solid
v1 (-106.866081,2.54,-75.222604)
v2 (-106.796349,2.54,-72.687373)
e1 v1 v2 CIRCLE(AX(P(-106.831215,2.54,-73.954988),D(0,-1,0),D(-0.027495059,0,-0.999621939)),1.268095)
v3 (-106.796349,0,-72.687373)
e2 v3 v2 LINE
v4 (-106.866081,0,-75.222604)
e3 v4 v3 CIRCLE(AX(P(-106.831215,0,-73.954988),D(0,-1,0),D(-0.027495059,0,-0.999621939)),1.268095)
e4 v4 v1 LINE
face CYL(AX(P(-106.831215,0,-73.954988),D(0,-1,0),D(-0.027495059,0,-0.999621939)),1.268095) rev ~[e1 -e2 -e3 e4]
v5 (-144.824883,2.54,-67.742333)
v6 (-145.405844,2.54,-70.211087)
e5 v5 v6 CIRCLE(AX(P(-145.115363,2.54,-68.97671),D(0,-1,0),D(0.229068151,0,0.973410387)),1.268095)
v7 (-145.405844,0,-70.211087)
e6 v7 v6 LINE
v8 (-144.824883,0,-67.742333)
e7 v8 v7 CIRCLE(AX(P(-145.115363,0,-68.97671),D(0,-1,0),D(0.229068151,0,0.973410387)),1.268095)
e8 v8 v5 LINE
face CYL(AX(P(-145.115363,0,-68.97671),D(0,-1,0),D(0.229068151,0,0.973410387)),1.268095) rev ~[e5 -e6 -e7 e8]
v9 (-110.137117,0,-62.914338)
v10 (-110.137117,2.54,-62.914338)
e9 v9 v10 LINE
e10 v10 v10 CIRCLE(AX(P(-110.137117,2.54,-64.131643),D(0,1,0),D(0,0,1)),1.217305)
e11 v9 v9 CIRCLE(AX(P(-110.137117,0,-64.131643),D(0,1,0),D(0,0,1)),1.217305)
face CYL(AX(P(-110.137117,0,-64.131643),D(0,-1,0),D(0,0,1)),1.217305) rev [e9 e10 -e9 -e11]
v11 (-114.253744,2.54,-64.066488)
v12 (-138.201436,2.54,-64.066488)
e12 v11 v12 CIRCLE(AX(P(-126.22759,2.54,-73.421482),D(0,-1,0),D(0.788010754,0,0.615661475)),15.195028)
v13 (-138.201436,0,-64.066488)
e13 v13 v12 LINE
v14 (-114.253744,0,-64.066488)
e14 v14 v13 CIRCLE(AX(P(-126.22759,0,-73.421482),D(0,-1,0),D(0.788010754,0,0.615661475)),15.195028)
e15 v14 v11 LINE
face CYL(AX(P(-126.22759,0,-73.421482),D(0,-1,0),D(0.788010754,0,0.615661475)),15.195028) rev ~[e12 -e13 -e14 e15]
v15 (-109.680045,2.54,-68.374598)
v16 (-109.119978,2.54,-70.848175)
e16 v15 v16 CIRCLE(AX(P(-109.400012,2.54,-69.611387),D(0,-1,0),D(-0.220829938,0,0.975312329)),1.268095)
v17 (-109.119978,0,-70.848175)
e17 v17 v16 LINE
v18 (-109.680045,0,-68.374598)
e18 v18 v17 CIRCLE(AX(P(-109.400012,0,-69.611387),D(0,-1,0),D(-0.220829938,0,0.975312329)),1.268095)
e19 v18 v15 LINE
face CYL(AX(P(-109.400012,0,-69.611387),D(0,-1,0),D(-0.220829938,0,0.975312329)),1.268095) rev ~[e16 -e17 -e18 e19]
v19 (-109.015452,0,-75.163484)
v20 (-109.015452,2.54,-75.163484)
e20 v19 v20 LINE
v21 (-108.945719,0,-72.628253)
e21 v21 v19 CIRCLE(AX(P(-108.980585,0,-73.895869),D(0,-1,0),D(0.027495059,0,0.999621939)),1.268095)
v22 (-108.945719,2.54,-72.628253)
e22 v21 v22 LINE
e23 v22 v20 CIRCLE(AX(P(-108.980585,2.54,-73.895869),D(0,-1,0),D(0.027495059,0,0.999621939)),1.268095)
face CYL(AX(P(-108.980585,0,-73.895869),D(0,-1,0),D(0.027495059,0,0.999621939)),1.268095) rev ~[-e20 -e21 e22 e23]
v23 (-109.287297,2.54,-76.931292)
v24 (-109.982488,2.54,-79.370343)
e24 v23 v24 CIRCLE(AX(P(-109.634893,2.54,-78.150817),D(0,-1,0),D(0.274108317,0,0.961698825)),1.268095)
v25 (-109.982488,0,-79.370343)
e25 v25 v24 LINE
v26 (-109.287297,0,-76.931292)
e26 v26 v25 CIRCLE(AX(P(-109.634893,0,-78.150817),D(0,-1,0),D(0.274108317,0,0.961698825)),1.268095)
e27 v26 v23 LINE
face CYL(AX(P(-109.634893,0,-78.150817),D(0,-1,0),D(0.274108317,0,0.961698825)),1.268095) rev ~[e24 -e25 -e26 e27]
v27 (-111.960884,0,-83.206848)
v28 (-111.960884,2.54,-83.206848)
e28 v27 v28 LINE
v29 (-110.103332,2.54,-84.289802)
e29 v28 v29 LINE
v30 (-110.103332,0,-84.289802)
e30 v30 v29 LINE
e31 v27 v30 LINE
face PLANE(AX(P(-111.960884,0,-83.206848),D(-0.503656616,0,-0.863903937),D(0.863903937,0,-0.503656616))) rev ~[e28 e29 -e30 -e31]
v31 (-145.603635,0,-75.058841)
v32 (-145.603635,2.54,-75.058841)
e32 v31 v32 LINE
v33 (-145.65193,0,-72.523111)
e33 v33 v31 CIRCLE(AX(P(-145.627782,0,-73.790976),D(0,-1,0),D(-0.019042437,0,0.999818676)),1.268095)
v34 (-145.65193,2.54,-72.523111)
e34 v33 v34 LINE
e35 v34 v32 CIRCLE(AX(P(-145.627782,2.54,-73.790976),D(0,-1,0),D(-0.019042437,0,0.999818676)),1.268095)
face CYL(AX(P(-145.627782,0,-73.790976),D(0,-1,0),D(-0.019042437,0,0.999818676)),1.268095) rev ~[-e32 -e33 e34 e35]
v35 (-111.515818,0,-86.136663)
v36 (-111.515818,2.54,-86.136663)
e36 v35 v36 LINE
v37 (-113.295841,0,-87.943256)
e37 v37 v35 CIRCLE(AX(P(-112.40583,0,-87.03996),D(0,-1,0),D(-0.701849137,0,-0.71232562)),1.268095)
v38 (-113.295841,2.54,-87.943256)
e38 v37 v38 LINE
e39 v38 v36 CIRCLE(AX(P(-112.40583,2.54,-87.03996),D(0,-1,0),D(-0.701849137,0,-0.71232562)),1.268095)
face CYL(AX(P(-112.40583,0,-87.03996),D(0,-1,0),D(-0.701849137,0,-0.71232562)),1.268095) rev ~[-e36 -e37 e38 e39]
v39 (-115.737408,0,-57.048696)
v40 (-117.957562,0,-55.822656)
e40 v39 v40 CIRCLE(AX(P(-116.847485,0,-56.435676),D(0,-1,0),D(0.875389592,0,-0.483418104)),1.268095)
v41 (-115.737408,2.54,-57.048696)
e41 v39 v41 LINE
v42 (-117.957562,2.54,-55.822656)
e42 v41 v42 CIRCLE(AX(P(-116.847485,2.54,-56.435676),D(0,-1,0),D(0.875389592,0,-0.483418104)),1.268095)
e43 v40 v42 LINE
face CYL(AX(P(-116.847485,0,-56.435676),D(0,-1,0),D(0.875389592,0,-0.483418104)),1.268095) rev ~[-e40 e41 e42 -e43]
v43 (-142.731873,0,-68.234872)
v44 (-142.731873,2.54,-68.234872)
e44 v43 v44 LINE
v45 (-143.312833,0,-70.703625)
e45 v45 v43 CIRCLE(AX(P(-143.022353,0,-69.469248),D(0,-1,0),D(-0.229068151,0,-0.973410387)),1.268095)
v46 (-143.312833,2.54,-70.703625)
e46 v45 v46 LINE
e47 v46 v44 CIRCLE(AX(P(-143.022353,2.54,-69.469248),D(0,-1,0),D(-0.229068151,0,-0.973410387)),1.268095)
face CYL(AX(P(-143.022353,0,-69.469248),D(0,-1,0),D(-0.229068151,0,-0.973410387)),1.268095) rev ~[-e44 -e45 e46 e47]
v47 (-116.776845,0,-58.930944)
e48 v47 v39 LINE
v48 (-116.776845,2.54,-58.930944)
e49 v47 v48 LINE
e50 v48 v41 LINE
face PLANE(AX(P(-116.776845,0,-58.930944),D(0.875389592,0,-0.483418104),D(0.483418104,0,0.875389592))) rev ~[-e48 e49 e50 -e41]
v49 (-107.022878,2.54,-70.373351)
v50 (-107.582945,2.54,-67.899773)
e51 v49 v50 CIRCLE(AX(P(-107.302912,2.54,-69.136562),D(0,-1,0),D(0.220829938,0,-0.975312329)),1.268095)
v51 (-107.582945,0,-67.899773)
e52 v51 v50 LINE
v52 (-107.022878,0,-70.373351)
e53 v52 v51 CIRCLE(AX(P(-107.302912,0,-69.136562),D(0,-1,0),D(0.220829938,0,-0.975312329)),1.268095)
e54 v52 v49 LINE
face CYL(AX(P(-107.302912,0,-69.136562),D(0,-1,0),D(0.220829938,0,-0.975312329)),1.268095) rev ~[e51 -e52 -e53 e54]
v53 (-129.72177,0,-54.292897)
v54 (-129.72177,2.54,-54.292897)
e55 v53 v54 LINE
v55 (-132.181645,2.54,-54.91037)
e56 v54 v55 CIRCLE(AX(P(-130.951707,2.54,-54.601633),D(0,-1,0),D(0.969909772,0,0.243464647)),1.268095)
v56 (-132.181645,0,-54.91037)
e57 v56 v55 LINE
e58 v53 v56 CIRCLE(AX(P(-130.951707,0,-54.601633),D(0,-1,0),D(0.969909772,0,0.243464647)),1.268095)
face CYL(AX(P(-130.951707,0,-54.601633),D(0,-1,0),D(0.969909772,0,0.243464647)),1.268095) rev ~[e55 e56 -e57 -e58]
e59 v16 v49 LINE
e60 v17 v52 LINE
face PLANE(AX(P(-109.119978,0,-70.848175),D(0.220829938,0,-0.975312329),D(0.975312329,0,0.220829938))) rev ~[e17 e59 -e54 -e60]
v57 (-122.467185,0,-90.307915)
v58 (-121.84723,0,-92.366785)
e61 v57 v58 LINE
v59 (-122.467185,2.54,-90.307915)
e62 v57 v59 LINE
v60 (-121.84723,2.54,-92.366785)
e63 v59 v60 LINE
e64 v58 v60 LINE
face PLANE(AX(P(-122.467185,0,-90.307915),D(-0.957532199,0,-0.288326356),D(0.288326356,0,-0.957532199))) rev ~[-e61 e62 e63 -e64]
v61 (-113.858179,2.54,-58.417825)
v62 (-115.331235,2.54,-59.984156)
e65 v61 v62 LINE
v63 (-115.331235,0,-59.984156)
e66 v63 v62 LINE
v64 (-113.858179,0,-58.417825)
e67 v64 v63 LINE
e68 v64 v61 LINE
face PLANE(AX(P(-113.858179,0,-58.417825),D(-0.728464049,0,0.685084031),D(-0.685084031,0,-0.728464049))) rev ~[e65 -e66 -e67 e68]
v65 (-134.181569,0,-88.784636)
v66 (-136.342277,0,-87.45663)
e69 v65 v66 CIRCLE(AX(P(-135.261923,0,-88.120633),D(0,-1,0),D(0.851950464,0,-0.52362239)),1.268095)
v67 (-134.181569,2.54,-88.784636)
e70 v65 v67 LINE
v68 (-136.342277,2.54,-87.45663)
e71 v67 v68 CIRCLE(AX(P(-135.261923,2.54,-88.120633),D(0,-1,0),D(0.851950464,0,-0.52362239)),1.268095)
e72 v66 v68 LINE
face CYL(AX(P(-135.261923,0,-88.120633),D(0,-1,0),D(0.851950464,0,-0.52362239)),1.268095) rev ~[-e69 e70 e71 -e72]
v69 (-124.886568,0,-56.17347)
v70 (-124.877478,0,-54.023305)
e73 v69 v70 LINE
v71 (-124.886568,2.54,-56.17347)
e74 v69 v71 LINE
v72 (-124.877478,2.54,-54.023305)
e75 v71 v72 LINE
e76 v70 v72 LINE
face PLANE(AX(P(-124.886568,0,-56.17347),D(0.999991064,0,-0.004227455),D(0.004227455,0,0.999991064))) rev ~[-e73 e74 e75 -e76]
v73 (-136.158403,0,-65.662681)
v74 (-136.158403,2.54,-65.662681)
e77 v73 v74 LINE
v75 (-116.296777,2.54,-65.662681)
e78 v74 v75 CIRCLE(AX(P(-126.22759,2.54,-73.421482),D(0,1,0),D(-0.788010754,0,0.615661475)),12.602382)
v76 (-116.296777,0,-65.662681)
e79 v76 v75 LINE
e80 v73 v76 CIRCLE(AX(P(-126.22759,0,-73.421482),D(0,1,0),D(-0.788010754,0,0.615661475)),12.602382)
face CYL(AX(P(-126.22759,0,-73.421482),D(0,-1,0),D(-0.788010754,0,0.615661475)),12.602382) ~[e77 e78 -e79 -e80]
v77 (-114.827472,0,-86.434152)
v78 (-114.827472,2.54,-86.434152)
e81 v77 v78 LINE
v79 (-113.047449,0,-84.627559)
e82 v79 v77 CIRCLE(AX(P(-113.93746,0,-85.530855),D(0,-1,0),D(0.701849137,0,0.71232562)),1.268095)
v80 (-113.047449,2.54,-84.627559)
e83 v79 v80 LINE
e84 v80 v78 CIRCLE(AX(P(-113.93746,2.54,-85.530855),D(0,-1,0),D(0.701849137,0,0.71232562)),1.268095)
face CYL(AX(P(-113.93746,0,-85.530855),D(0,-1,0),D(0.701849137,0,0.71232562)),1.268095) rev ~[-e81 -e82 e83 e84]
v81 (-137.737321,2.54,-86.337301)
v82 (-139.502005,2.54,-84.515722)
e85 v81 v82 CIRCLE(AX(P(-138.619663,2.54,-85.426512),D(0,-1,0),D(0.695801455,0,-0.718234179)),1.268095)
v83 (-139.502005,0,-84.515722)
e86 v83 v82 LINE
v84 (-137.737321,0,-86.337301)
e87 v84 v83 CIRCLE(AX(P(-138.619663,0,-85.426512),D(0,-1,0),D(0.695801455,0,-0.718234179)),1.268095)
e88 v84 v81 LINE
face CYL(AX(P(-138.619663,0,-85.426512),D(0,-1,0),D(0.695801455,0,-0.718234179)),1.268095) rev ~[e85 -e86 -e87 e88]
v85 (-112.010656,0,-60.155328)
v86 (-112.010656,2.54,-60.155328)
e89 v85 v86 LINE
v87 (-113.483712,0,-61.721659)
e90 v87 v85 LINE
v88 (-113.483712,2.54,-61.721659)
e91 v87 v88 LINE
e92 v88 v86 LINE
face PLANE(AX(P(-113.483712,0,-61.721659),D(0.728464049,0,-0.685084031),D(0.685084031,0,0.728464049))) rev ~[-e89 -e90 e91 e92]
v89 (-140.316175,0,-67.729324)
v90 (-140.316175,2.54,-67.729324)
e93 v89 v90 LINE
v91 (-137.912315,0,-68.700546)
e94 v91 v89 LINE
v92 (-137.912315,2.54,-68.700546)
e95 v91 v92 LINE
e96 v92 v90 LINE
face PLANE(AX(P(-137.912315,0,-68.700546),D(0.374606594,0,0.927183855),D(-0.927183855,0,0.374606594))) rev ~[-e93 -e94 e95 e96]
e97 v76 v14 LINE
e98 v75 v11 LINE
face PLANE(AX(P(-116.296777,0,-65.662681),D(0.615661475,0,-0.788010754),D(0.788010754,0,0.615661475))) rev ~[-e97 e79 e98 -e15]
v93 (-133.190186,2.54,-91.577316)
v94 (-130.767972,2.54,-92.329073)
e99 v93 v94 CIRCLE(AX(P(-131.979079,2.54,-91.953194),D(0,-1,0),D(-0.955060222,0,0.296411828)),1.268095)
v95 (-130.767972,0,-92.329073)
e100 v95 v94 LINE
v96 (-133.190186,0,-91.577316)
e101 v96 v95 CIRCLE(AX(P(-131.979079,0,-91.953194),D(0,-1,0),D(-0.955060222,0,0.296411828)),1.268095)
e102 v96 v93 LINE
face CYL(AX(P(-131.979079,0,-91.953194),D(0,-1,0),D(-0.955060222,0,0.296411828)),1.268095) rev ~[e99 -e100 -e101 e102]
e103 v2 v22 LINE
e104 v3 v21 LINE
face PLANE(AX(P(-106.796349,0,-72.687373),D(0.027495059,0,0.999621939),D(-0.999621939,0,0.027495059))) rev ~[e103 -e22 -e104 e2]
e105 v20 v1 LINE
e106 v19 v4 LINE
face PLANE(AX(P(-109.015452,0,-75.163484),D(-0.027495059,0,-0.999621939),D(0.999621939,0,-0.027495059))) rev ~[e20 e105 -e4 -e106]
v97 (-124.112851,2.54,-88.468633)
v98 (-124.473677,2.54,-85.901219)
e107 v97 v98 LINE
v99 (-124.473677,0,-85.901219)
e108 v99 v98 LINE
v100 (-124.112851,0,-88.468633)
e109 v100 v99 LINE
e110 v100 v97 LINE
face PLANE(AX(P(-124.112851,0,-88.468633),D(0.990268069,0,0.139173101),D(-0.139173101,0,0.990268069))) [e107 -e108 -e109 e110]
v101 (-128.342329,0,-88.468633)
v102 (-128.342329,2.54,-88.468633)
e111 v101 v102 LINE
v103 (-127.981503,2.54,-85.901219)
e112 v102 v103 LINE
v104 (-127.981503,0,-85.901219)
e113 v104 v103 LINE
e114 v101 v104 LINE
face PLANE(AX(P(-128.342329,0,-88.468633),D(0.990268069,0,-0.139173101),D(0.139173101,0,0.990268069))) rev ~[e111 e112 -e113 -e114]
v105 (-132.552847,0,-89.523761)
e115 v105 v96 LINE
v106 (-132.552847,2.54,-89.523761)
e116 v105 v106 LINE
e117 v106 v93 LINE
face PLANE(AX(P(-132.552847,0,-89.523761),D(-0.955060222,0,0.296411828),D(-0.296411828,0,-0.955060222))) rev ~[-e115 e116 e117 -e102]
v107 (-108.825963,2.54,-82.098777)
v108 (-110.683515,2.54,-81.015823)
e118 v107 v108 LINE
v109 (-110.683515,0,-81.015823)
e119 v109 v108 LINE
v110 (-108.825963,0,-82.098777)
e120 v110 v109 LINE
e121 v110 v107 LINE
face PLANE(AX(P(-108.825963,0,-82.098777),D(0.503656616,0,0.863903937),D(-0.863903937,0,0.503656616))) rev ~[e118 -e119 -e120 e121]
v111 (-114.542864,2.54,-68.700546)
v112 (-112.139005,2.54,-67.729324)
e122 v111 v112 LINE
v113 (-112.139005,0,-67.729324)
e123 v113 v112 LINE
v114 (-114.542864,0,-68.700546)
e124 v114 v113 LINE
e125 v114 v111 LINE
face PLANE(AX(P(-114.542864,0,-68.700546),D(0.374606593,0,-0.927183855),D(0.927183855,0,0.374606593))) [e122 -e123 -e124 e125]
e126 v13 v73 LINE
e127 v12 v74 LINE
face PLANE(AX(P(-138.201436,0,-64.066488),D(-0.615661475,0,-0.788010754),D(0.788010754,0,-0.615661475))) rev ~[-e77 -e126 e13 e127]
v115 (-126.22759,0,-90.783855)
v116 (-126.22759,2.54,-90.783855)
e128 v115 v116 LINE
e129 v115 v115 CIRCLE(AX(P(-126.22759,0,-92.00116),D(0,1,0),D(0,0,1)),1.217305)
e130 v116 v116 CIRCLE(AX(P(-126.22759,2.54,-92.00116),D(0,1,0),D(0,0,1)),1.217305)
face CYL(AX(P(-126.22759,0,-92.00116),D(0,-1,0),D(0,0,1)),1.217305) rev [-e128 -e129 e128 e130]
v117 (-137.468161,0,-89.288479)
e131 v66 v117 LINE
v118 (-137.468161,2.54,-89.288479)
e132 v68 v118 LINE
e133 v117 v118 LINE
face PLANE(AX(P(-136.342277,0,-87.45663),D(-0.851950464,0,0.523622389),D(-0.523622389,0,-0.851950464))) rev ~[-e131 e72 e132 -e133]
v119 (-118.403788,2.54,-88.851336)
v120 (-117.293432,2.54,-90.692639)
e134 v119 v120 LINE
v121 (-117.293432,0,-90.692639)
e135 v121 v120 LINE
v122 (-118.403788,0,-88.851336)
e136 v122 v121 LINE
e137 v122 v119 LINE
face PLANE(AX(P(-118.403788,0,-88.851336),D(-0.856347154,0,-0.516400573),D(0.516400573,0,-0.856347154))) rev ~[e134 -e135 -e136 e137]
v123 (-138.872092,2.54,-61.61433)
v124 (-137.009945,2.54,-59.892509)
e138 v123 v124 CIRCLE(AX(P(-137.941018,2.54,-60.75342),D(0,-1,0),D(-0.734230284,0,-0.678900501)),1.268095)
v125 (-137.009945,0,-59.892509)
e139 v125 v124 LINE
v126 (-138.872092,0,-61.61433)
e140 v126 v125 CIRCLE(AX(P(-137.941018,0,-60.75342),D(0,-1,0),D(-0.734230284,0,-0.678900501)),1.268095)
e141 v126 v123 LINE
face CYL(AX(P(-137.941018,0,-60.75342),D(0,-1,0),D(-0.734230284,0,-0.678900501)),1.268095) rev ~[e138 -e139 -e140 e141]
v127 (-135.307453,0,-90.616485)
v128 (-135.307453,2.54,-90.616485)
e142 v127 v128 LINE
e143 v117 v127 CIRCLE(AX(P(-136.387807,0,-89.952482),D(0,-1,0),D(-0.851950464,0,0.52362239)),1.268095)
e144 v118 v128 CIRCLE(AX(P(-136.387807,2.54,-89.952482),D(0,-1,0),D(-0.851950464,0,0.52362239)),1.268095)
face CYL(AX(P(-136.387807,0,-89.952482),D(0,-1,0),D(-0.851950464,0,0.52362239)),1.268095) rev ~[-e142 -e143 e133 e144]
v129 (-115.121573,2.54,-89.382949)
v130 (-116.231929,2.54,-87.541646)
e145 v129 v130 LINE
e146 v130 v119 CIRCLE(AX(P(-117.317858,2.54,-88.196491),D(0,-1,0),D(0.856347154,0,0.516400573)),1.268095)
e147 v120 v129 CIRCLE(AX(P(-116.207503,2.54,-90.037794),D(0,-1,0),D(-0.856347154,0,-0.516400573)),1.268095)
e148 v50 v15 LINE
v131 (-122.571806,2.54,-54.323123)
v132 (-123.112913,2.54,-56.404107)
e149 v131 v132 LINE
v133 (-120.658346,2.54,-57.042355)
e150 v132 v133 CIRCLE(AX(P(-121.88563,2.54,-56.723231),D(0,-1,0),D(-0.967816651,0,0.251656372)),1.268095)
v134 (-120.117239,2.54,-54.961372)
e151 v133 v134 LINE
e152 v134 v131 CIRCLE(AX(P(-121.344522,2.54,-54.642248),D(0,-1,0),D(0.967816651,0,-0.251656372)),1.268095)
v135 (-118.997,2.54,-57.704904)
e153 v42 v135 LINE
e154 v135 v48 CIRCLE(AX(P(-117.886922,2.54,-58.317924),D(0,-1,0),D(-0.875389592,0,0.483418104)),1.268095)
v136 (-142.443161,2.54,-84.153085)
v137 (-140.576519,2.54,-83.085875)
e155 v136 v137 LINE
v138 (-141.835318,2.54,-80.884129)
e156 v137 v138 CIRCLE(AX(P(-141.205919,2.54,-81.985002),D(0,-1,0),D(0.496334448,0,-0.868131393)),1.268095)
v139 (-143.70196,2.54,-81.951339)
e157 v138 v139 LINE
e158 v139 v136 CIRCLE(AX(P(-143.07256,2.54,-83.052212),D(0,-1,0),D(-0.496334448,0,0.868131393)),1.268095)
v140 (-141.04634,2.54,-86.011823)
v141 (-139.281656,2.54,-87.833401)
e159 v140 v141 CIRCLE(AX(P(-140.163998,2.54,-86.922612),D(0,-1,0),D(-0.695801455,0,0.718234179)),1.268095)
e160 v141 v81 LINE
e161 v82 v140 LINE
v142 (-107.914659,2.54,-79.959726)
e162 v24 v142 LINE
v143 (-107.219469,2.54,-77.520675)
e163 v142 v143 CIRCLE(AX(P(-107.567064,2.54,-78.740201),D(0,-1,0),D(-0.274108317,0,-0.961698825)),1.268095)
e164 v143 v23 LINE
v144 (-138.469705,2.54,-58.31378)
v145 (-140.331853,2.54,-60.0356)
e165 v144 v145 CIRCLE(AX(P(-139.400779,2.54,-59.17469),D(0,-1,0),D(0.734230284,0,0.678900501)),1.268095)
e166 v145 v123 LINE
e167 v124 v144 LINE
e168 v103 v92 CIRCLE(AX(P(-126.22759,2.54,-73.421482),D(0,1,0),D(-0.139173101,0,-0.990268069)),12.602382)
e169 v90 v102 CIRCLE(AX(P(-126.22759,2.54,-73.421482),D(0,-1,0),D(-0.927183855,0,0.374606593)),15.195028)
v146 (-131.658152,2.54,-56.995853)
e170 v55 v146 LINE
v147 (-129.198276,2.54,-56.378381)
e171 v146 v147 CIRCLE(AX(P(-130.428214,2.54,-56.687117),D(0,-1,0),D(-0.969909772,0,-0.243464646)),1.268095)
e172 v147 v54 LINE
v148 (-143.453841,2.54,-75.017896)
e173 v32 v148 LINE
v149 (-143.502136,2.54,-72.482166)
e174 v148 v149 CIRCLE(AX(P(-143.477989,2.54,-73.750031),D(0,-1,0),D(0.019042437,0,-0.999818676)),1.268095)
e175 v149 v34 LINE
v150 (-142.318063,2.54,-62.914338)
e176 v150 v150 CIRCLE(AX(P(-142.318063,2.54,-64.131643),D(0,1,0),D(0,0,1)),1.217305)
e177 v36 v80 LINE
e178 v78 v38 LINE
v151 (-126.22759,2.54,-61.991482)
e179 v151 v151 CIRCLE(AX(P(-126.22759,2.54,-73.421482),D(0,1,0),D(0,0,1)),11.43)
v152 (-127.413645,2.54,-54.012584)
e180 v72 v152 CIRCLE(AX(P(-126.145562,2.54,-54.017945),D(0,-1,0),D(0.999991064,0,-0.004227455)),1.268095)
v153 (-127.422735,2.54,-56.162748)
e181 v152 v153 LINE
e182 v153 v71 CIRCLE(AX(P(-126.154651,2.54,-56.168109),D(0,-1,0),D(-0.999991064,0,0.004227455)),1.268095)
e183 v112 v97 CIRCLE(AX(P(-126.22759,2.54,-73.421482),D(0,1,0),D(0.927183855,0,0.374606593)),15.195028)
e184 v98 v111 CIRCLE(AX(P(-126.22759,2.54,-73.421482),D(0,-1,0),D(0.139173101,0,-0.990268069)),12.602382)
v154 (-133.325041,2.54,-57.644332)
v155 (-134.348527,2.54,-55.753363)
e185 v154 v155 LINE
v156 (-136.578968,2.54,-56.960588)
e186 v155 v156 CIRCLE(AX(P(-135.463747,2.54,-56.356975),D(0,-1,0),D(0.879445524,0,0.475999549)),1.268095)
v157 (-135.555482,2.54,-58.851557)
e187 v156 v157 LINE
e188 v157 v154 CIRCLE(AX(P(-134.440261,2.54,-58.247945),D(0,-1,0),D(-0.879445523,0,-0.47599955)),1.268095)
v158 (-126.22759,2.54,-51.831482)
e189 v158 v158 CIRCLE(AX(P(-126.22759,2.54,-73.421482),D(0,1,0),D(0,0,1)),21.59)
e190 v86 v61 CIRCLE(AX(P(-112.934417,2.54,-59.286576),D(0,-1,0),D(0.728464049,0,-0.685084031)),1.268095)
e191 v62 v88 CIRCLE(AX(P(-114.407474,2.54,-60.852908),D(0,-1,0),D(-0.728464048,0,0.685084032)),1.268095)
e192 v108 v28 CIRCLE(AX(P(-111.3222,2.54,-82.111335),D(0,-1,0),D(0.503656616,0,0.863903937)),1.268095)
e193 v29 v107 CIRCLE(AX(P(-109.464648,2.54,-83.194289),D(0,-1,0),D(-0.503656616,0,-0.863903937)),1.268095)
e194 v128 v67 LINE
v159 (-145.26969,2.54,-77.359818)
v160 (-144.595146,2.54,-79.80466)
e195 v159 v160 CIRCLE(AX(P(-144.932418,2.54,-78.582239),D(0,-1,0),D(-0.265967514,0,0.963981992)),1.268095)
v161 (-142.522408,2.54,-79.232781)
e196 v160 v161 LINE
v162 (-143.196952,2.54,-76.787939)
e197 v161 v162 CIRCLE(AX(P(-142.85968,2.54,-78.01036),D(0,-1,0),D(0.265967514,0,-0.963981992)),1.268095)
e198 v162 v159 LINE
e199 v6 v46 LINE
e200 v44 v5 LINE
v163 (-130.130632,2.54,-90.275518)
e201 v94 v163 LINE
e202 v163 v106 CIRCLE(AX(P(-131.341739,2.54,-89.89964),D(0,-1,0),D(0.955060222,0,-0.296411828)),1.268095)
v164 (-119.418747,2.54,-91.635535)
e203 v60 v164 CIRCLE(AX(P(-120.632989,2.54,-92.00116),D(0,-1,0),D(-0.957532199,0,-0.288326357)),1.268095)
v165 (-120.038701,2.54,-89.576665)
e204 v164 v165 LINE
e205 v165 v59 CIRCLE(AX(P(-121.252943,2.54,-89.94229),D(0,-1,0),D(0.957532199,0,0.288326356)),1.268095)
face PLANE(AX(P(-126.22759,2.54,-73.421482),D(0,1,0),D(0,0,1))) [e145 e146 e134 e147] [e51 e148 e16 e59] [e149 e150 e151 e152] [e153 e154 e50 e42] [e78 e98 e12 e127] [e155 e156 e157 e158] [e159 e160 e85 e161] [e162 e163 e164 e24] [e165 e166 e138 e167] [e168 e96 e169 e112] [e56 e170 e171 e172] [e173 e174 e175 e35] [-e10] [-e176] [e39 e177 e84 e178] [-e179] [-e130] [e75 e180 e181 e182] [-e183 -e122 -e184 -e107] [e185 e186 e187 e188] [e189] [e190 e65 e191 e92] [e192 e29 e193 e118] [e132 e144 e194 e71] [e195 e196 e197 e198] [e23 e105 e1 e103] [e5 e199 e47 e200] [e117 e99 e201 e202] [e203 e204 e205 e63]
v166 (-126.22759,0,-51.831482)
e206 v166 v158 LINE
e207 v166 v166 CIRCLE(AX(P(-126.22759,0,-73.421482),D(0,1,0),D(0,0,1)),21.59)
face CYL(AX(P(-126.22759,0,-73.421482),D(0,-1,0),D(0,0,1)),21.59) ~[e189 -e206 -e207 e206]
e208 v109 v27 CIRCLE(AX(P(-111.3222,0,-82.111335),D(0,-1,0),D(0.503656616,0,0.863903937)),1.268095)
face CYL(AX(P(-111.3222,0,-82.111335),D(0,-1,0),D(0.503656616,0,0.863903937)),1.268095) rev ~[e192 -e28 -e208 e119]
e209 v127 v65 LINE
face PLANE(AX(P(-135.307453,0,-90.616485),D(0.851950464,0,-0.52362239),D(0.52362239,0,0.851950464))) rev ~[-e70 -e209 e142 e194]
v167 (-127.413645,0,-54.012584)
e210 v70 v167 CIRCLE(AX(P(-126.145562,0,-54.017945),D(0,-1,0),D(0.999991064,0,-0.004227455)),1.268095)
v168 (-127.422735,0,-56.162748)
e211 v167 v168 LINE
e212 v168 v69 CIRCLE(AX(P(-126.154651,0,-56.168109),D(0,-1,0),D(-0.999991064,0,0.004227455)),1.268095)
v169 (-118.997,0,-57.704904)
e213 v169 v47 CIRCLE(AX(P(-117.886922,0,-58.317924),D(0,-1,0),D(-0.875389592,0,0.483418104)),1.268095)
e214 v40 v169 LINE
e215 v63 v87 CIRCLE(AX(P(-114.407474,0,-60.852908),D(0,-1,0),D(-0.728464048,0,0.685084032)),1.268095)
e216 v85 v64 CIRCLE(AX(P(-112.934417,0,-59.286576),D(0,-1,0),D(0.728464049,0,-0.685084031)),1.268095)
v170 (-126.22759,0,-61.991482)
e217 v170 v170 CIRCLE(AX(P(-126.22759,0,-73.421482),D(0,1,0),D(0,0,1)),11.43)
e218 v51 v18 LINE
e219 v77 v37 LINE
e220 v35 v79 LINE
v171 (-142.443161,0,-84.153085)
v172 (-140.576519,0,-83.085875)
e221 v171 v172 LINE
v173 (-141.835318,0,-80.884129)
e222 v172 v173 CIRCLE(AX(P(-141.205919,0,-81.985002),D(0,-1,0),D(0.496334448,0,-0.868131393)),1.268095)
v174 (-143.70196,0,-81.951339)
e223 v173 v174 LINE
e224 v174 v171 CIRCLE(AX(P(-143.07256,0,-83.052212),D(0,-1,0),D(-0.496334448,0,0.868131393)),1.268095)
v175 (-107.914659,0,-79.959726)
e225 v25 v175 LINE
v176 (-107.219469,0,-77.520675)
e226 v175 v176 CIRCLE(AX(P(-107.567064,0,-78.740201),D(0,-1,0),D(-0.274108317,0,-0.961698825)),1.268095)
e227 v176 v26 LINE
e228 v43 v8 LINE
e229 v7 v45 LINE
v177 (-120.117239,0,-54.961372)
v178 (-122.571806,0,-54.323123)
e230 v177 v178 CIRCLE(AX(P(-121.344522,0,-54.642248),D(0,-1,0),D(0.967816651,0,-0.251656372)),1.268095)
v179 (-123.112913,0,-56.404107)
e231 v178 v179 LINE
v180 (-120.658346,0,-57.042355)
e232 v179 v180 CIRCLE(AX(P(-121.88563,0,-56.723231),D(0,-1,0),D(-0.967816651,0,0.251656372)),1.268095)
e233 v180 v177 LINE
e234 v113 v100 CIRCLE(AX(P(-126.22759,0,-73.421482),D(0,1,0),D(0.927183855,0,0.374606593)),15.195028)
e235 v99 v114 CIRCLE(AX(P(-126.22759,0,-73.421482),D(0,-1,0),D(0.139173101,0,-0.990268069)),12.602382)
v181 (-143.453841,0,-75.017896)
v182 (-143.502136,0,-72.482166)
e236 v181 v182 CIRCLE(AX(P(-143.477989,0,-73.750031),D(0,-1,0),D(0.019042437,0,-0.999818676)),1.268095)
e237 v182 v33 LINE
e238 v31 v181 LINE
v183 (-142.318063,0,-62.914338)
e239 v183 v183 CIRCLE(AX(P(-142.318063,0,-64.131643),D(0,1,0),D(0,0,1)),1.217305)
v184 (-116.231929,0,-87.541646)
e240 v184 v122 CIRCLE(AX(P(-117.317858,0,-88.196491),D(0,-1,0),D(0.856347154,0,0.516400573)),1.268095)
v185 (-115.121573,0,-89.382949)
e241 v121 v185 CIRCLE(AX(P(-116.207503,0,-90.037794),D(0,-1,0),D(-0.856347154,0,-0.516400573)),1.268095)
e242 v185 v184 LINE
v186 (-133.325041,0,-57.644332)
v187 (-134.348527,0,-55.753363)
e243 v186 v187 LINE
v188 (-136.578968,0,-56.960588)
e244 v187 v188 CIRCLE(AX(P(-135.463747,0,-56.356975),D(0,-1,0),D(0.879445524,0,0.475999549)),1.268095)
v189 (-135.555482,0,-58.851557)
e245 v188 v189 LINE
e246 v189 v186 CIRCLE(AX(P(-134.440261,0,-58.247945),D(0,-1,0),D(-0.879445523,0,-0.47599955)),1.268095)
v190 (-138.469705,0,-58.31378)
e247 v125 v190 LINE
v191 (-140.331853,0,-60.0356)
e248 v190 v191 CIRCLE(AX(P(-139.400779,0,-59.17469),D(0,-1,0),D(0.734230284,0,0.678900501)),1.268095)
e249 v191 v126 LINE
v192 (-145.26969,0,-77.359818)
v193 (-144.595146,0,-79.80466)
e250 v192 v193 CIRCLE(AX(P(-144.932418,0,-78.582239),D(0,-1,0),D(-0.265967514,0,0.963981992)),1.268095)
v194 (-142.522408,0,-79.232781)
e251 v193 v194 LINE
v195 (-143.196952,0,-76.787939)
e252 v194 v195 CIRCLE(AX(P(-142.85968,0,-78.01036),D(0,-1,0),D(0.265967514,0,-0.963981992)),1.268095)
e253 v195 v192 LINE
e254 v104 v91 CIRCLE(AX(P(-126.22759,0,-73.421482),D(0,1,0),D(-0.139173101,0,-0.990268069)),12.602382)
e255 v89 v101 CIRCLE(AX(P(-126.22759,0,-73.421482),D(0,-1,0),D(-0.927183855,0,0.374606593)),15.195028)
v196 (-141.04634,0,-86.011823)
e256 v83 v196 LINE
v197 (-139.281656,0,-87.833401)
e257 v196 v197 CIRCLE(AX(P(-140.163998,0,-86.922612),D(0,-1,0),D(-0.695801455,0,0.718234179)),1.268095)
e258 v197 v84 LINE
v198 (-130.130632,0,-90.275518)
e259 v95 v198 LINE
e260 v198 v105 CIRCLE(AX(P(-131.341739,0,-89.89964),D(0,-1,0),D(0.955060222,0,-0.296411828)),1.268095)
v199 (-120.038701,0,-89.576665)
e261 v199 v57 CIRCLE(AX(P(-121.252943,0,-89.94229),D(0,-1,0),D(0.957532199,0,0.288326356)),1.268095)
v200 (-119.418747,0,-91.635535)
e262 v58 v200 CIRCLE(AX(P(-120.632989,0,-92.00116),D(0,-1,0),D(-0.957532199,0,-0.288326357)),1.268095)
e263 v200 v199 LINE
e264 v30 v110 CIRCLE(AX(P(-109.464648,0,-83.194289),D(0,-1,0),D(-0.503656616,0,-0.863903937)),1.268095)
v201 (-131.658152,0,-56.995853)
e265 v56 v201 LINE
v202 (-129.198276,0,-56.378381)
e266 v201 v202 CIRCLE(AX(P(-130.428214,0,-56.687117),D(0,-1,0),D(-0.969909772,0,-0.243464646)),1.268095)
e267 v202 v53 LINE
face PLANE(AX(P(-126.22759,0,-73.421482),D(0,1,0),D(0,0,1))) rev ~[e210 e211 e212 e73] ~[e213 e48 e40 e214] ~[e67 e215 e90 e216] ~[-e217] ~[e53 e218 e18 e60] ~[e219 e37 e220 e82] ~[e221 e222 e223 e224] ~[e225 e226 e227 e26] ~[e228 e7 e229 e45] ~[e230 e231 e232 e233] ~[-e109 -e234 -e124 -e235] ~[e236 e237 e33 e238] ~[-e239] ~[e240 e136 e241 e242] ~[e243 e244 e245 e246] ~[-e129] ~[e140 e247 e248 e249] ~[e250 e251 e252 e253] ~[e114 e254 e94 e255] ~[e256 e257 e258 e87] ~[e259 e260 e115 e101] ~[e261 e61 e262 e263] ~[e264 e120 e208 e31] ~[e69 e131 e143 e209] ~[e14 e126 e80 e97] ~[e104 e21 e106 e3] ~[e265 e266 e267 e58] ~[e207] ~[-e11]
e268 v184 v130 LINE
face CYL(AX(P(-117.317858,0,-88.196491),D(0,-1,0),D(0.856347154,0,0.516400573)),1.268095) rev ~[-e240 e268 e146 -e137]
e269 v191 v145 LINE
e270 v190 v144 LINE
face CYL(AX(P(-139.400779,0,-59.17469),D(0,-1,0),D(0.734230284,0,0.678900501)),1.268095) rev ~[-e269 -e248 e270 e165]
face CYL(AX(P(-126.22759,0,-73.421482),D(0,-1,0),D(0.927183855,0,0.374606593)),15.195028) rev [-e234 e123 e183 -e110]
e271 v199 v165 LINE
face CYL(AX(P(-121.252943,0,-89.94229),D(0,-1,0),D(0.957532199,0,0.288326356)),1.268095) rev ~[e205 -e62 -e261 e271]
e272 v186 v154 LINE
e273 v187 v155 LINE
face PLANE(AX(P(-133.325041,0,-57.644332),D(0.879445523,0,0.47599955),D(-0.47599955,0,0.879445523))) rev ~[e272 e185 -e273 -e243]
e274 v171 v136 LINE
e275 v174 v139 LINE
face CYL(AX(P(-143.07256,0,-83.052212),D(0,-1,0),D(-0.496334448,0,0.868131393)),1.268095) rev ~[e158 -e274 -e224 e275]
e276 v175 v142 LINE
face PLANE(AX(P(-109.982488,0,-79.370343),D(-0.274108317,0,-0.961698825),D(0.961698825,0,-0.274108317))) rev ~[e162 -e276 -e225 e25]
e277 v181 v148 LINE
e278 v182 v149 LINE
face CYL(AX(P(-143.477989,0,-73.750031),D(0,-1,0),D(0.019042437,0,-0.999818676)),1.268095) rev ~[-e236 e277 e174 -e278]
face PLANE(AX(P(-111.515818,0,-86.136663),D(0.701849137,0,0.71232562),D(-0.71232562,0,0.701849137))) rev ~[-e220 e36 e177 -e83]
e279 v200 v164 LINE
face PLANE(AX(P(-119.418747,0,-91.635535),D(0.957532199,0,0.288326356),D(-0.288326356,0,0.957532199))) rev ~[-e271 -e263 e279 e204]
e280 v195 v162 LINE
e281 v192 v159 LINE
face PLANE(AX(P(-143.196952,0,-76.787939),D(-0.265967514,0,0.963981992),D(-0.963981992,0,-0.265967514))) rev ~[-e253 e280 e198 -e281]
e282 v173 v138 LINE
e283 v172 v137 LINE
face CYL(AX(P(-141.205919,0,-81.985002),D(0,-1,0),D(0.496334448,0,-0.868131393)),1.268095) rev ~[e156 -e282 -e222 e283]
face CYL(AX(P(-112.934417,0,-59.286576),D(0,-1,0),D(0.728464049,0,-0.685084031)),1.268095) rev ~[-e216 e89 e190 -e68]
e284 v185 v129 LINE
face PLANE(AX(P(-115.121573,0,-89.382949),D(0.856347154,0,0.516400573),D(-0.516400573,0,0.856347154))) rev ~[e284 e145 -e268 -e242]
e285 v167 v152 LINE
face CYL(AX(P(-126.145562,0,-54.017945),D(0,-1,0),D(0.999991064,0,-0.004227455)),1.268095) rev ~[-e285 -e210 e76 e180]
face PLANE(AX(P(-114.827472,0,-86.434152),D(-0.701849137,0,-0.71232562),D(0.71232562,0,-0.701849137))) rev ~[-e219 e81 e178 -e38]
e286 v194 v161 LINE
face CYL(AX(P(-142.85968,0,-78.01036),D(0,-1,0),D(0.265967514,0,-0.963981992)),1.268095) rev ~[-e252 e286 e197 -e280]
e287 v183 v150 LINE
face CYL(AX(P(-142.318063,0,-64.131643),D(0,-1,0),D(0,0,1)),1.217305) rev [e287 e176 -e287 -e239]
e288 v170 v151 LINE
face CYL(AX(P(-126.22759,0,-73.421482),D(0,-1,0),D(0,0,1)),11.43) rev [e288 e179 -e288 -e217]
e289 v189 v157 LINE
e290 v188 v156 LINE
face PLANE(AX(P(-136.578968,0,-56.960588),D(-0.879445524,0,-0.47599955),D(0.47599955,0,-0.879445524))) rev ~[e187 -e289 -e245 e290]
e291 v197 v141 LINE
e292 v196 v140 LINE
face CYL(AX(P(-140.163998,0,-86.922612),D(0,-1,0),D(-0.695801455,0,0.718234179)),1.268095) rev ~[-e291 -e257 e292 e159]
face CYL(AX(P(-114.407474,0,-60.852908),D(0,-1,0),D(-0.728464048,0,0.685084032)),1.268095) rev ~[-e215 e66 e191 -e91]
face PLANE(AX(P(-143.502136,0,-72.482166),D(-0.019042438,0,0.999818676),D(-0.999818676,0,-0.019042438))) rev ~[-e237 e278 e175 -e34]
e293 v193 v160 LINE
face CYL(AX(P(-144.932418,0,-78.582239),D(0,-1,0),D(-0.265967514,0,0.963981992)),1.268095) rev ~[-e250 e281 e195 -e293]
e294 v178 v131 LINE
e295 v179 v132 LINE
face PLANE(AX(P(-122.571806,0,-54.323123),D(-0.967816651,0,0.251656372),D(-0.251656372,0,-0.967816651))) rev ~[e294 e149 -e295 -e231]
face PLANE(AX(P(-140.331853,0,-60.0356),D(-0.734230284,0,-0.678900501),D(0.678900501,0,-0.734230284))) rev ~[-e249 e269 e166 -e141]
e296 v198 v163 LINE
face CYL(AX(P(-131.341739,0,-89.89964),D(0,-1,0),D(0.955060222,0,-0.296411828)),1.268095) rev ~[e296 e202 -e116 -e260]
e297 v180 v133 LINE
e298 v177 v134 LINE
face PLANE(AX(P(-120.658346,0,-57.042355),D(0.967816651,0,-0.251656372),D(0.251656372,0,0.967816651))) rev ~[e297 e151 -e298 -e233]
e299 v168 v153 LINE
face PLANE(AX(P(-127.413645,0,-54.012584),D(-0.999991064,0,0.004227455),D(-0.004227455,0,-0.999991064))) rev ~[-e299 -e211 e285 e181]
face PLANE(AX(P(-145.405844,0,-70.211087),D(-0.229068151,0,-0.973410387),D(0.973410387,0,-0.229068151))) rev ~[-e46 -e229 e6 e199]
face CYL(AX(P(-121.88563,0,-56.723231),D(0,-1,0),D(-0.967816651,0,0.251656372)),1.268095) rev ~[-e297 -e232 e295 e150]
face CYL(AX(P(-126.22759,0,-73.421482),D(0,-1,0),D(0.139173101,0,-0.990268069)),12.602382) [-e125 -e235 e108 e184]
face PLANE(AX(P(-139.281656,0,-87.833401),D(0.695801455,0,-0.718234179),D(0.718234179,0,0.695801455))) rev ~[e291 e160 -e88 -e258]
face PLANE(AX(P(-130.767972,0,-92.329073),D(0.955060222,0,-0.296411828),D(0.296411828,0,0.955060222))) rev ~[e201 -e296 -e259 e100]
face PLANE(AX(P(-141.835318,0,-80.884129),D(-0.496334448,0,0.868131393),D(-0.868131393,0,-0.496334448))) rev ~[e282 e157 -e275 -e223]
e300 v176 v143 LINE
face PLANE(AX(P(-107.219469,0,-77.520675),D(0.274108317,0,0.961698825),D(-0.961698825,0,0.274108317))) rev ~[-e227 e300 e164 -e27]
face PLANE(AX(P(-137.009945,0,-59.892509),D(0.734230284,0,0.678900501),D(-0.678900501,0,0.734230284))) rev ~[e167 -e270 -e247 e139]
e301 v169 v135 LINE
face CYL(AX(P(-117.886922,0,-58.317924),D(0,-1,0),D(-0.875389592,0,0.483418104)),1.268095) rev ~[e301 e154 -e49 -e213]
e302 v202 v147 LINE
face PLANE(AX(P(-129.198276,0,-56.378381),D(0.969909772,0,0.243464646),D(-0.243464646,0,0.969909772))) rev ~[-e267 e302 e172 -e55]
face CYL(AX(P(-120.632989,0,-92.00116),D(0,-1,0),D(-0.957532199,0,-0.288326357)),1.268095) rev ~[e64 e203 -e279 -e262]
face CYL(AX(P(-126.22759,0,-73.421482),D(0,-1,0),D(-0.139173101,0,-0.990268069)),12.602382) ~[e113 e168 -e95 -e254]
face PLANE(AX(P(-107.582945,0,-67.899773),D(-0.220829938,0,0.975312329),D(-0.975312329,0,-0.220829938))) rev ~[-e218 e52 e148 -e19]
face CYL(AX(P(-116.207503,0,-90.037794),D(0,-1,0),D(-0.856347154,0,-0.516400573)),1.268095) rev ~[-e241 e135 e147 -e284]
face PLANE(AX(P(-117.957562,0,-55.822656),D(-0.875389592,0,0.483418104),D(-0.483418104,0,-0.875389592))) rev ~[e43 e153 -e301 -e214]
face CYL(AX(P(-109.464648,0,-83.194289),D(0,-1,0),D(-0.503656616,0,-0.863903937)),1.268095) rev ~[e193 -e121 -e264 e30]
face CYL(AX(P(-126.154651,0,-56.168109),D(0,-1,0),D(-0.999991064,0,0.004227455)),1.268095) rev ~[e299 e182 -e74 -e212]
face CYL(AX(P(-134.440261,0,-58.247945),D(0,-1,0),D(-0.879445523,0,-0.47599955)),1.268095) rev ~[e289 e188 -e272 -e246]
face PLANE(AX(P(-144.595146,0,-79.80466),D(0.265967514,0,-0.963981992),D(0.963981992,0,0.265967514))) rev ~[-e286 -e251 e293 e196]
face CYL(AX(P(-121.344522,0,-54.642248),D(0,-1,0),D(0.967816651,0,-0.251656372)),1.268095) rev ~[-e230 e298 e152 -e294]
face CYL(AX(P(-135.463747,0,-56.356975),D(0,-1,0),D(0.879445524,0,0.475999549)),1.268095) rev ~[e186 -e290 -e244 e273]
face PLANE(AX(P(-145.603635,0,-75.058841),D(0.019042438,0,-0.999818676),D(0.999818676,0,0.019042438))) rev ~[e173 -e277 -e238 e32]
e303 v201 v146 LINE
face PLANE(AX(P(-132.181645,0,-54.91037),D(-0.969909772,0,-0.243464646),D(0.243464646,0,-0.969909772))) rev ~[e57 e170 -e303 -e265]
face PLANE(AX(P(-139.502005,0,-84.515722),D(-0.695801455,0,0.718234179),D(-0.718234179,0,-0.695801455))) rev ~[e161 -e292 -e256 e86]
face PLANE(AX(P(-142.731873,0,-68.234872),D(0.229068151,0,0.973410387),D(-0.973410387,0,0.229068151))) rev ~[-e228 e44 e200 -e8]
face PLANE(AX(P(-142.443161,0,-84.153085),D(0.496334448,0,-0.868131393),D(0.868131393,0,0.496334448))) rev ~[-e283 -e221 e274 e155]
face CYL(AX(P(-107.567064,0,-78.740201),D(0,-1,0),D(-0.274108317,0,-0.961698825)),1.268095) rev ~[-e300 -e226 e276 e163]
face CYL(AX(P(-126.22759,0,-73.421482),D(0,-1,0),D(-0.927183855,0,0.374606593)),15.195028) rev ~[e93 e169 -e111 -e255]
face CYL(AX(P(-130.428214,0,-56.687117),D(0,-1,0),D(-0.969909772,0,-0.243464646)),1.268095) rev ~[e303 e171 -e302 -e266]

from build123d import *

# Parameters (mm, degrees)
SKETCH1_R           = 21.59
SKETCH1_R_2         = 11.43
SKETCH1_R_3         = 1.217304979
BOSS_EXTRUDE1_DEPTH = 2.54


with BuildPart() as part:
    # Sketch1 → Boss-Extrude1 (new body)
    with BuildSketch(Plane(origin=(0, 0, 0), x_dir=(1, 0, 0), z_dir=(0, 1, 0))):
        with Locations(Location((-126.227589866, 73.421482023, 0), (0, 0, 270))):  # turned: the seam where the file's is
            Circle(SKETCH1_R)
        with Locations(Location((-126.227589866, 73.421482023, 0), (0, 0, 270))):  # turned: the seam where the file's is
            Circle(SKETCH1_R_2, mode=Mode.SUBTRACT)
        with Locations(Location((-126.227589866, 92.001159833, 0), (0, 0, 270))):  # turned: the seam where the file's is
            Circle(SKETCH1_R_3, mode=Mode.SUBTRACT)
        with Locations(Location((-110.137116889, 64.131643118, 0), (0, 0, 270))):  # turned: the seam where the file's is
            Circle(SKETCH1_R_3, mode=Mode.SUBTRACT)
        with Locations(Location((-142.318062844, 64.131643118, 0), (0, 0, 270))):  # turned: the seam where the file's is
            Circle(SKETCH1_R_3, mode=Mode.SUBTRACT)
        with BuildLine():
            Line((-124.112850648, 88.468633425), (-124.473677215, 85.901218995))
            ThreePointArc((-124.473677215, 85.901218995), (-115.31360648, 79.722673269), (-114.542864291, 68.700546449))
            Line((-114.542864291, 68.700546449), (-112.139004888, 67.729324207))
            ThreePointArc((-112.139004888, 67.729324207), (-113.068309283, 81.01899621), (-124.112850648, 88.468633425))
        make_face(mode=Mode.SUBTRACT)
        with BuildLine():
            Line((-119.418746821, 91.635534611), (-120.038701331, 89.576664888))
            ThreePointArc((-120.038701331, 89.576664888), (-121.618568384, 88.728048279), (-122.467184992, 90.307915332))
            Line((-122.467184992, 90.307915332), (-121.847230483, 92.366785055))
            ThreePointArc((-121.847230483, 92.366785055), (-120.26736343, 93.215401663), (-119.418746821, 91.635534611))
        make_face(mode=Mode.SUBTRACT)
        with BuildLine():
            Line((-115.121572952, 89.382949486), (-116.231928828, 87.541646155))
            ThreePointArc((-116.231928828, 87.541646155), (-117.972703409, 87.110561582), (-118.403787983, 88.851336163))
            Line((-118.403787983, 88.851336163), (-117.293432106, 90.692639495))
            ThreePointArc((-117.293432106, 90.692639495), (-115.552657525, 91.123724068), (-115.121572952, 89.382949486))
        make_face(mode=Mode.SUBTRACT)
        with BuildLine():
            Line((-111.515818176, 86.136663069), (-113.047448813, 84.627558791))
            ThreePointArc((-113.047448813, 84.627558791), (-114.840756806, 84.640843967), (-114.827471629, 86.43415196))
            Line((-114.827471629, 86.43415196), (-113.295840992, 87.943256238))
            ThreePointArc((-113.295840992, 87.943256238), (-111.502532999, 87.929971061), (-111.515818176, 86.136663069))
        make_face(mode=Mode.SUBTRACT)
        with BuildLine():
            Line((-108.825963306, 82.098777014), (-110.683515106, 81.01582298))
            ThreePointArc((-110.683515106, 81.01582298), (-112.417711859, 81.472650821), (-111.960884018, 83.206847573))
            Line((-111.960884018, 83.206847573), (-110.103332218, 84.289801607))
            ThreePointArc((-110.103332218, 84.289801607), (-108.369135466, 83.832973767), (-108.825963306, 82.098777014))
        make_face(mode=Mode.SUBTRACT)
        with BuildLine():
            Line((-107.219468651, 77.520675013), (-109.287297384, 76.931291893))
            ThreePointArc((-109.287297384, 76.931291893), (-110.854418289, 77.803222004), (-109.982488178, 79.37034291))
            Line((-109.982488178, 79.37034291), (-107.914659445, 79.95972603))
            ThreePointArc((-107.914659445, 79.95972603), (-106.34753854, 79.087795919), (-107.219468651, 77.520675013))
        make_face(mode=Mode.SUBTRACT)
        with BuildLine():
            Line((-106.796348562, 72.687372581), (-108.945718941, 72.628253164))
            ThreePointArc((-108.945718941, 72.628253164), (-110.24820091, 73.861002437), (-109.015451637, 75.163484407))
            Line((-109.015451637, 75.163484407), (-106.866081259, 75.222603824))
            ThreePointArc((-106.866081259, 75.222603824), (-105.563599289, 73.989854551), (-106.796348562, 72.687372581))
        make_face(mode=Mode.SUBTRACT)
        with BuildLine():
            Line((-107.582944914, 67.899773058), (-109.680045174, 68.374597899))
            ThreePointArc((-109.680045174, 68.374597899), (-110.63680055, 69.891419972), (-109.119978476, 70.848175348))
            Line((-109.119978476, 70.848175348), (-107.022878216, 70.373350508))
            ThreePointArc((-107.022878216, 70.373350508), (-106.06612284, 68.856528434), (-107.582944914, 67.899773058))
        make_face(mode=Mode.SUBTRACT)
        with BuildLine():
            Line((-138.201435626, 64.066488437), (-136.158402791, 65.662680625))
            ThreePointArc((-136.158402791, 65.662680625), (-126.227589866, 60.819099531), (-116.296776942, 65.662680625))
            Line((-116.296776942, 65.662680625), (-114.253744106, 64.066488437))
            ThreePointArc((-114.253744106, 64.066488437), (-126.227589866, 58.226453649), (-138.201435626, 64.066488437))
        make_face(mode=Mode.SUBTRACT)
        with BuildLine():
            Line((-113.858179141, 58.417824681), (-115.331235369, 59.984155898))
            ThreePointArc((-115.331235369, 59.984155898), (-115.276225385, 61.776669204), (-113.483712078, 61.721659219))
            Line((-113.483712078, 61.721659219), (-112.01065585, 60.155328003))
            ThreePointArc((-112.01065585, 60.155328003), (-112.065665835, 58.362814697), (-113.858179141, 58.417824681))
        make_face(mode=Mode.SUBTRACT)
        with BuildLine():
            Line((-117.957562018, 55.822655508), (-118.996999541, 57.70490357))
            ThreePointArc((-118.996999541, 57.70490357), (-118.499942442, 59.428000866), (-116.776845146, 58.930943767))
            Line((-116.776845146, 58.930943767), (-115.737407623, 57.048695705))
            ThreePointArc((-115.737407623, 57.048695705), (-116.234464722, 55.325598409), (-117.957562018, 55.822655508))
        make_face(mode=Mode.SUBTRACT)
        with BuildLine():
            Line((-122.571805912, 54.323123481), (-123.112913235, 56.404106661))
            ThreePointArc((-123.112913235, 56.404106661), (-122.204753938, 57.950514351), (-120.658346248, 57.042355055))
            Line((-120.658346248, 57.042355055), (-120.117238925, 54.961371875))
            ThreePointArc((-120.117238925, 54.961371875), (-121.025398222, 53.414964185), (-122.571805912, 54.323123481))
        make_face(mode=Mode.SUBTRACT)
        with BuildLine():
            Line((-127.413645248, 54.012583859), (-127.422735052, 56.162747924))
            ThreePointArc((-127.422735052, 56.162747924), (-126.16001216, 57.436192446), (-124.886567638, 56.173469555))
            Line((-124.886567638, 56.173469555), (-124.877477834, 54.02330549))
            ThreePointArc((-124.877477834, 54.02330549), (-126.140200725, 52.749860968), (-127.413645248, 54.012583859))
        make_face(mode=Mode.SUBTRACT)
        with BuildLine():
            Line((-132.181645209, 54.910369677), (-131.658151598, 56.99585345))
            ThreePointArc((-131.658151598, 56.99585345), (-130.119477518, 57.91705491), (-129.198276059, 56.37838083))
            Line((-129.198276059, 56.37838083), (-129.72176967, 54.292897057))
            ThreePointArc((-129.72176967, 54.292897057), (-131.26044375, 53.371695598), (-132.181645209, 54.910369677))
        make_face(mode=Mode.SUBTRACT)
        with BuildLine():
            Line((-136.578967944, 56.960588147), (-135.555481672, 58.851557206))
            ThreePointArc((-135.555481672, 58.851557206), (-133.8366485, 59.363165043), (-133.325040663, 57.644331871))
            Line((-133.325040663, 57.644331871), (-134.348526935, 55.753362813))
            ThreePointArc((-134.348526935, 55.753362813), (-136.067360107, 55.241754975), (-136.578967944, 56.960588147))
        make_face(mode=Mode.SUBTRACT)
        with BuildLine():
            Line((-140.331852578, 60.035600332), (-138.872092074, 61.614330011))
            ThreePointArc((-138.872092074, 61.614330011), (-137.080107937, 61.684493435), (-137.009944513, 59.892509298))
            Line((-137.009944513, 59.892509298), (-138.469705017, 58.313779619))
            ThreePointArc((-138.469705017, 58.313779619), (-140.261689154, 58.243616195), (-140.331852578, 60.035600332))
        make_face(mode=Mode.SUBTRACT)
        with BuildLine():
            Line((-128.342329084, 88.468633425), (-127.981502517, 85.901218995))
            ThreePointArc((-127.981502517, 85.901218995), (-137.141573252, 79.722673269), (-137.912315442, 68.700546449))
            Line((-137.912315442, 68.700546449), (-140.316174844, 67.729324207))
            ThreePointArc((-140.316174844, 67.729324207), (-139.386870449, 81.01899621), (-128.342329084, 88.468633425))
        make_face(mode=Mode.SUBTRACT)
        with BuildLine():
            Line((-145.405843636, 70.211086776), (-143.312832898, 70.703625283))
            ThreePointArc((-143.312832898, 70.703625283), (-141.78797583, 69.759728585), (-142.731872528, 68.234871518))
            Line((-142.731872528, 68.234871518), (-144.824883266, 67.742333011))
            ThreePointArc((-144.824883266, 67.742333011), (-146.349740334, 68.686229709), (-145.405843636, 70.211086776))
        make_face(mode=Mode.SUBTRACT)
        with BuildLine():
            Line((-145.603634629, 75.058841074), (-143.45384123, 75.017896343))
            ThreePointArc((-143.45384123, 75.017896343), (-142.210123747, 73.72588362), (-143.502136471, 72.482166138))
            Line((-143.502136471, 72.482166138), (-145.65192987, 72.523110869))
            ThreePointArc((-145.65192987, 72.523110869), (-146.895647352, 73.815123592), (-145.603634629, 75.058841074))
        make_face(mode=Mode.SUBTRACT)
        with BuildLine():
            Line((-144.595145511, 79.804659518), (-142.522407551, 79.232780616))
            ThreePointArc((-142.522407551, 79.232780616), (-141.637258855, 77.67308775), (-143.196951721, 76.787939054))
            Line((-143.196951721, 76.787939054), (-145.269689681, 77.359817956))
            ThreePointArc((-145.269689681, 77.359817956), (-146.154838377, 78.919510823), (-144.595145511, 79.804659518))
        make_face(mode=Mode.SUBTRACT)
        with BuildLine():
            Line((-142.443161045, 84.153085195), (-140.57651944, 83.085875164))
            ThreePointArc((-140.57651944, 83.085875164), (-140.105045579, 81.355602801), (-141.835317942, 80.88412894))
            Line((-141.835317942, 80.88412894), (-143.701959547, 81.951338971))
            ThreePointArc((-143.701959547, 81.951338971), (-144.173433408, 83.681611334), (-142.443161045, 84.153085195))
        make_face(mode=Mode.SUBTRACT)
        with BuildLine():
            Line((-139.281655738, 87.833401378), (-137.737320617, 86.337300725))
            ThreePointArc((-137.737320617, 86.337300725), (-137.708873791, 84.544169154), (-139.502005362, 84.515722328))
            Line((-139.502005362, 84.515722328), (-141.046340483, 86.011822981))
            ThreePointArc((-141.046340483, 86.011822981), (-141.074787309, 87.804954552), (-139.281655738, 87.833401378))
        make_face(mode=Mode.SUBTRACT)
        with BuildLine():
            Line((-135.307453093, 90.61648534), (-134.181568986, 88.784635699))
            ThreePointArc((-134.181568986, 88.784635699), (-134.597920188, 87.040278588), (-136.342277299, 87.45662979))
            Line((-136.342277299, 87.45662979), (-137.468161405, 89.288479432))
            ThreePointArc((-137.468161405, 89.288479432), (-137.051810203, 91.032836542), (-135.307453093, 90.61648534))
        make_face(mode=Mode.SUBTRACT)
        with BuildLine():
            Line((-130.767972107, 92.329072679), (-130.130632351, 90.275518159))
            ThreePointArc((-130.130632351, 90.275518159), (-130.965861112, 88.688532661), (-132.552846609, 89.523761422))
            Line((-132.552846609, 89.523761422), (-133.190186365, 91.577315942))
            ThreePointArc((-133.190186365, 91.577315942), (-132.354957605, 93.164301439), (-130.767972107, 92.329072679))
        make_face(mode=Mode.SUBTRACT)
    extrude(amount=BOSS_EXTRUDE1_DEPTH)


solid = part.part
